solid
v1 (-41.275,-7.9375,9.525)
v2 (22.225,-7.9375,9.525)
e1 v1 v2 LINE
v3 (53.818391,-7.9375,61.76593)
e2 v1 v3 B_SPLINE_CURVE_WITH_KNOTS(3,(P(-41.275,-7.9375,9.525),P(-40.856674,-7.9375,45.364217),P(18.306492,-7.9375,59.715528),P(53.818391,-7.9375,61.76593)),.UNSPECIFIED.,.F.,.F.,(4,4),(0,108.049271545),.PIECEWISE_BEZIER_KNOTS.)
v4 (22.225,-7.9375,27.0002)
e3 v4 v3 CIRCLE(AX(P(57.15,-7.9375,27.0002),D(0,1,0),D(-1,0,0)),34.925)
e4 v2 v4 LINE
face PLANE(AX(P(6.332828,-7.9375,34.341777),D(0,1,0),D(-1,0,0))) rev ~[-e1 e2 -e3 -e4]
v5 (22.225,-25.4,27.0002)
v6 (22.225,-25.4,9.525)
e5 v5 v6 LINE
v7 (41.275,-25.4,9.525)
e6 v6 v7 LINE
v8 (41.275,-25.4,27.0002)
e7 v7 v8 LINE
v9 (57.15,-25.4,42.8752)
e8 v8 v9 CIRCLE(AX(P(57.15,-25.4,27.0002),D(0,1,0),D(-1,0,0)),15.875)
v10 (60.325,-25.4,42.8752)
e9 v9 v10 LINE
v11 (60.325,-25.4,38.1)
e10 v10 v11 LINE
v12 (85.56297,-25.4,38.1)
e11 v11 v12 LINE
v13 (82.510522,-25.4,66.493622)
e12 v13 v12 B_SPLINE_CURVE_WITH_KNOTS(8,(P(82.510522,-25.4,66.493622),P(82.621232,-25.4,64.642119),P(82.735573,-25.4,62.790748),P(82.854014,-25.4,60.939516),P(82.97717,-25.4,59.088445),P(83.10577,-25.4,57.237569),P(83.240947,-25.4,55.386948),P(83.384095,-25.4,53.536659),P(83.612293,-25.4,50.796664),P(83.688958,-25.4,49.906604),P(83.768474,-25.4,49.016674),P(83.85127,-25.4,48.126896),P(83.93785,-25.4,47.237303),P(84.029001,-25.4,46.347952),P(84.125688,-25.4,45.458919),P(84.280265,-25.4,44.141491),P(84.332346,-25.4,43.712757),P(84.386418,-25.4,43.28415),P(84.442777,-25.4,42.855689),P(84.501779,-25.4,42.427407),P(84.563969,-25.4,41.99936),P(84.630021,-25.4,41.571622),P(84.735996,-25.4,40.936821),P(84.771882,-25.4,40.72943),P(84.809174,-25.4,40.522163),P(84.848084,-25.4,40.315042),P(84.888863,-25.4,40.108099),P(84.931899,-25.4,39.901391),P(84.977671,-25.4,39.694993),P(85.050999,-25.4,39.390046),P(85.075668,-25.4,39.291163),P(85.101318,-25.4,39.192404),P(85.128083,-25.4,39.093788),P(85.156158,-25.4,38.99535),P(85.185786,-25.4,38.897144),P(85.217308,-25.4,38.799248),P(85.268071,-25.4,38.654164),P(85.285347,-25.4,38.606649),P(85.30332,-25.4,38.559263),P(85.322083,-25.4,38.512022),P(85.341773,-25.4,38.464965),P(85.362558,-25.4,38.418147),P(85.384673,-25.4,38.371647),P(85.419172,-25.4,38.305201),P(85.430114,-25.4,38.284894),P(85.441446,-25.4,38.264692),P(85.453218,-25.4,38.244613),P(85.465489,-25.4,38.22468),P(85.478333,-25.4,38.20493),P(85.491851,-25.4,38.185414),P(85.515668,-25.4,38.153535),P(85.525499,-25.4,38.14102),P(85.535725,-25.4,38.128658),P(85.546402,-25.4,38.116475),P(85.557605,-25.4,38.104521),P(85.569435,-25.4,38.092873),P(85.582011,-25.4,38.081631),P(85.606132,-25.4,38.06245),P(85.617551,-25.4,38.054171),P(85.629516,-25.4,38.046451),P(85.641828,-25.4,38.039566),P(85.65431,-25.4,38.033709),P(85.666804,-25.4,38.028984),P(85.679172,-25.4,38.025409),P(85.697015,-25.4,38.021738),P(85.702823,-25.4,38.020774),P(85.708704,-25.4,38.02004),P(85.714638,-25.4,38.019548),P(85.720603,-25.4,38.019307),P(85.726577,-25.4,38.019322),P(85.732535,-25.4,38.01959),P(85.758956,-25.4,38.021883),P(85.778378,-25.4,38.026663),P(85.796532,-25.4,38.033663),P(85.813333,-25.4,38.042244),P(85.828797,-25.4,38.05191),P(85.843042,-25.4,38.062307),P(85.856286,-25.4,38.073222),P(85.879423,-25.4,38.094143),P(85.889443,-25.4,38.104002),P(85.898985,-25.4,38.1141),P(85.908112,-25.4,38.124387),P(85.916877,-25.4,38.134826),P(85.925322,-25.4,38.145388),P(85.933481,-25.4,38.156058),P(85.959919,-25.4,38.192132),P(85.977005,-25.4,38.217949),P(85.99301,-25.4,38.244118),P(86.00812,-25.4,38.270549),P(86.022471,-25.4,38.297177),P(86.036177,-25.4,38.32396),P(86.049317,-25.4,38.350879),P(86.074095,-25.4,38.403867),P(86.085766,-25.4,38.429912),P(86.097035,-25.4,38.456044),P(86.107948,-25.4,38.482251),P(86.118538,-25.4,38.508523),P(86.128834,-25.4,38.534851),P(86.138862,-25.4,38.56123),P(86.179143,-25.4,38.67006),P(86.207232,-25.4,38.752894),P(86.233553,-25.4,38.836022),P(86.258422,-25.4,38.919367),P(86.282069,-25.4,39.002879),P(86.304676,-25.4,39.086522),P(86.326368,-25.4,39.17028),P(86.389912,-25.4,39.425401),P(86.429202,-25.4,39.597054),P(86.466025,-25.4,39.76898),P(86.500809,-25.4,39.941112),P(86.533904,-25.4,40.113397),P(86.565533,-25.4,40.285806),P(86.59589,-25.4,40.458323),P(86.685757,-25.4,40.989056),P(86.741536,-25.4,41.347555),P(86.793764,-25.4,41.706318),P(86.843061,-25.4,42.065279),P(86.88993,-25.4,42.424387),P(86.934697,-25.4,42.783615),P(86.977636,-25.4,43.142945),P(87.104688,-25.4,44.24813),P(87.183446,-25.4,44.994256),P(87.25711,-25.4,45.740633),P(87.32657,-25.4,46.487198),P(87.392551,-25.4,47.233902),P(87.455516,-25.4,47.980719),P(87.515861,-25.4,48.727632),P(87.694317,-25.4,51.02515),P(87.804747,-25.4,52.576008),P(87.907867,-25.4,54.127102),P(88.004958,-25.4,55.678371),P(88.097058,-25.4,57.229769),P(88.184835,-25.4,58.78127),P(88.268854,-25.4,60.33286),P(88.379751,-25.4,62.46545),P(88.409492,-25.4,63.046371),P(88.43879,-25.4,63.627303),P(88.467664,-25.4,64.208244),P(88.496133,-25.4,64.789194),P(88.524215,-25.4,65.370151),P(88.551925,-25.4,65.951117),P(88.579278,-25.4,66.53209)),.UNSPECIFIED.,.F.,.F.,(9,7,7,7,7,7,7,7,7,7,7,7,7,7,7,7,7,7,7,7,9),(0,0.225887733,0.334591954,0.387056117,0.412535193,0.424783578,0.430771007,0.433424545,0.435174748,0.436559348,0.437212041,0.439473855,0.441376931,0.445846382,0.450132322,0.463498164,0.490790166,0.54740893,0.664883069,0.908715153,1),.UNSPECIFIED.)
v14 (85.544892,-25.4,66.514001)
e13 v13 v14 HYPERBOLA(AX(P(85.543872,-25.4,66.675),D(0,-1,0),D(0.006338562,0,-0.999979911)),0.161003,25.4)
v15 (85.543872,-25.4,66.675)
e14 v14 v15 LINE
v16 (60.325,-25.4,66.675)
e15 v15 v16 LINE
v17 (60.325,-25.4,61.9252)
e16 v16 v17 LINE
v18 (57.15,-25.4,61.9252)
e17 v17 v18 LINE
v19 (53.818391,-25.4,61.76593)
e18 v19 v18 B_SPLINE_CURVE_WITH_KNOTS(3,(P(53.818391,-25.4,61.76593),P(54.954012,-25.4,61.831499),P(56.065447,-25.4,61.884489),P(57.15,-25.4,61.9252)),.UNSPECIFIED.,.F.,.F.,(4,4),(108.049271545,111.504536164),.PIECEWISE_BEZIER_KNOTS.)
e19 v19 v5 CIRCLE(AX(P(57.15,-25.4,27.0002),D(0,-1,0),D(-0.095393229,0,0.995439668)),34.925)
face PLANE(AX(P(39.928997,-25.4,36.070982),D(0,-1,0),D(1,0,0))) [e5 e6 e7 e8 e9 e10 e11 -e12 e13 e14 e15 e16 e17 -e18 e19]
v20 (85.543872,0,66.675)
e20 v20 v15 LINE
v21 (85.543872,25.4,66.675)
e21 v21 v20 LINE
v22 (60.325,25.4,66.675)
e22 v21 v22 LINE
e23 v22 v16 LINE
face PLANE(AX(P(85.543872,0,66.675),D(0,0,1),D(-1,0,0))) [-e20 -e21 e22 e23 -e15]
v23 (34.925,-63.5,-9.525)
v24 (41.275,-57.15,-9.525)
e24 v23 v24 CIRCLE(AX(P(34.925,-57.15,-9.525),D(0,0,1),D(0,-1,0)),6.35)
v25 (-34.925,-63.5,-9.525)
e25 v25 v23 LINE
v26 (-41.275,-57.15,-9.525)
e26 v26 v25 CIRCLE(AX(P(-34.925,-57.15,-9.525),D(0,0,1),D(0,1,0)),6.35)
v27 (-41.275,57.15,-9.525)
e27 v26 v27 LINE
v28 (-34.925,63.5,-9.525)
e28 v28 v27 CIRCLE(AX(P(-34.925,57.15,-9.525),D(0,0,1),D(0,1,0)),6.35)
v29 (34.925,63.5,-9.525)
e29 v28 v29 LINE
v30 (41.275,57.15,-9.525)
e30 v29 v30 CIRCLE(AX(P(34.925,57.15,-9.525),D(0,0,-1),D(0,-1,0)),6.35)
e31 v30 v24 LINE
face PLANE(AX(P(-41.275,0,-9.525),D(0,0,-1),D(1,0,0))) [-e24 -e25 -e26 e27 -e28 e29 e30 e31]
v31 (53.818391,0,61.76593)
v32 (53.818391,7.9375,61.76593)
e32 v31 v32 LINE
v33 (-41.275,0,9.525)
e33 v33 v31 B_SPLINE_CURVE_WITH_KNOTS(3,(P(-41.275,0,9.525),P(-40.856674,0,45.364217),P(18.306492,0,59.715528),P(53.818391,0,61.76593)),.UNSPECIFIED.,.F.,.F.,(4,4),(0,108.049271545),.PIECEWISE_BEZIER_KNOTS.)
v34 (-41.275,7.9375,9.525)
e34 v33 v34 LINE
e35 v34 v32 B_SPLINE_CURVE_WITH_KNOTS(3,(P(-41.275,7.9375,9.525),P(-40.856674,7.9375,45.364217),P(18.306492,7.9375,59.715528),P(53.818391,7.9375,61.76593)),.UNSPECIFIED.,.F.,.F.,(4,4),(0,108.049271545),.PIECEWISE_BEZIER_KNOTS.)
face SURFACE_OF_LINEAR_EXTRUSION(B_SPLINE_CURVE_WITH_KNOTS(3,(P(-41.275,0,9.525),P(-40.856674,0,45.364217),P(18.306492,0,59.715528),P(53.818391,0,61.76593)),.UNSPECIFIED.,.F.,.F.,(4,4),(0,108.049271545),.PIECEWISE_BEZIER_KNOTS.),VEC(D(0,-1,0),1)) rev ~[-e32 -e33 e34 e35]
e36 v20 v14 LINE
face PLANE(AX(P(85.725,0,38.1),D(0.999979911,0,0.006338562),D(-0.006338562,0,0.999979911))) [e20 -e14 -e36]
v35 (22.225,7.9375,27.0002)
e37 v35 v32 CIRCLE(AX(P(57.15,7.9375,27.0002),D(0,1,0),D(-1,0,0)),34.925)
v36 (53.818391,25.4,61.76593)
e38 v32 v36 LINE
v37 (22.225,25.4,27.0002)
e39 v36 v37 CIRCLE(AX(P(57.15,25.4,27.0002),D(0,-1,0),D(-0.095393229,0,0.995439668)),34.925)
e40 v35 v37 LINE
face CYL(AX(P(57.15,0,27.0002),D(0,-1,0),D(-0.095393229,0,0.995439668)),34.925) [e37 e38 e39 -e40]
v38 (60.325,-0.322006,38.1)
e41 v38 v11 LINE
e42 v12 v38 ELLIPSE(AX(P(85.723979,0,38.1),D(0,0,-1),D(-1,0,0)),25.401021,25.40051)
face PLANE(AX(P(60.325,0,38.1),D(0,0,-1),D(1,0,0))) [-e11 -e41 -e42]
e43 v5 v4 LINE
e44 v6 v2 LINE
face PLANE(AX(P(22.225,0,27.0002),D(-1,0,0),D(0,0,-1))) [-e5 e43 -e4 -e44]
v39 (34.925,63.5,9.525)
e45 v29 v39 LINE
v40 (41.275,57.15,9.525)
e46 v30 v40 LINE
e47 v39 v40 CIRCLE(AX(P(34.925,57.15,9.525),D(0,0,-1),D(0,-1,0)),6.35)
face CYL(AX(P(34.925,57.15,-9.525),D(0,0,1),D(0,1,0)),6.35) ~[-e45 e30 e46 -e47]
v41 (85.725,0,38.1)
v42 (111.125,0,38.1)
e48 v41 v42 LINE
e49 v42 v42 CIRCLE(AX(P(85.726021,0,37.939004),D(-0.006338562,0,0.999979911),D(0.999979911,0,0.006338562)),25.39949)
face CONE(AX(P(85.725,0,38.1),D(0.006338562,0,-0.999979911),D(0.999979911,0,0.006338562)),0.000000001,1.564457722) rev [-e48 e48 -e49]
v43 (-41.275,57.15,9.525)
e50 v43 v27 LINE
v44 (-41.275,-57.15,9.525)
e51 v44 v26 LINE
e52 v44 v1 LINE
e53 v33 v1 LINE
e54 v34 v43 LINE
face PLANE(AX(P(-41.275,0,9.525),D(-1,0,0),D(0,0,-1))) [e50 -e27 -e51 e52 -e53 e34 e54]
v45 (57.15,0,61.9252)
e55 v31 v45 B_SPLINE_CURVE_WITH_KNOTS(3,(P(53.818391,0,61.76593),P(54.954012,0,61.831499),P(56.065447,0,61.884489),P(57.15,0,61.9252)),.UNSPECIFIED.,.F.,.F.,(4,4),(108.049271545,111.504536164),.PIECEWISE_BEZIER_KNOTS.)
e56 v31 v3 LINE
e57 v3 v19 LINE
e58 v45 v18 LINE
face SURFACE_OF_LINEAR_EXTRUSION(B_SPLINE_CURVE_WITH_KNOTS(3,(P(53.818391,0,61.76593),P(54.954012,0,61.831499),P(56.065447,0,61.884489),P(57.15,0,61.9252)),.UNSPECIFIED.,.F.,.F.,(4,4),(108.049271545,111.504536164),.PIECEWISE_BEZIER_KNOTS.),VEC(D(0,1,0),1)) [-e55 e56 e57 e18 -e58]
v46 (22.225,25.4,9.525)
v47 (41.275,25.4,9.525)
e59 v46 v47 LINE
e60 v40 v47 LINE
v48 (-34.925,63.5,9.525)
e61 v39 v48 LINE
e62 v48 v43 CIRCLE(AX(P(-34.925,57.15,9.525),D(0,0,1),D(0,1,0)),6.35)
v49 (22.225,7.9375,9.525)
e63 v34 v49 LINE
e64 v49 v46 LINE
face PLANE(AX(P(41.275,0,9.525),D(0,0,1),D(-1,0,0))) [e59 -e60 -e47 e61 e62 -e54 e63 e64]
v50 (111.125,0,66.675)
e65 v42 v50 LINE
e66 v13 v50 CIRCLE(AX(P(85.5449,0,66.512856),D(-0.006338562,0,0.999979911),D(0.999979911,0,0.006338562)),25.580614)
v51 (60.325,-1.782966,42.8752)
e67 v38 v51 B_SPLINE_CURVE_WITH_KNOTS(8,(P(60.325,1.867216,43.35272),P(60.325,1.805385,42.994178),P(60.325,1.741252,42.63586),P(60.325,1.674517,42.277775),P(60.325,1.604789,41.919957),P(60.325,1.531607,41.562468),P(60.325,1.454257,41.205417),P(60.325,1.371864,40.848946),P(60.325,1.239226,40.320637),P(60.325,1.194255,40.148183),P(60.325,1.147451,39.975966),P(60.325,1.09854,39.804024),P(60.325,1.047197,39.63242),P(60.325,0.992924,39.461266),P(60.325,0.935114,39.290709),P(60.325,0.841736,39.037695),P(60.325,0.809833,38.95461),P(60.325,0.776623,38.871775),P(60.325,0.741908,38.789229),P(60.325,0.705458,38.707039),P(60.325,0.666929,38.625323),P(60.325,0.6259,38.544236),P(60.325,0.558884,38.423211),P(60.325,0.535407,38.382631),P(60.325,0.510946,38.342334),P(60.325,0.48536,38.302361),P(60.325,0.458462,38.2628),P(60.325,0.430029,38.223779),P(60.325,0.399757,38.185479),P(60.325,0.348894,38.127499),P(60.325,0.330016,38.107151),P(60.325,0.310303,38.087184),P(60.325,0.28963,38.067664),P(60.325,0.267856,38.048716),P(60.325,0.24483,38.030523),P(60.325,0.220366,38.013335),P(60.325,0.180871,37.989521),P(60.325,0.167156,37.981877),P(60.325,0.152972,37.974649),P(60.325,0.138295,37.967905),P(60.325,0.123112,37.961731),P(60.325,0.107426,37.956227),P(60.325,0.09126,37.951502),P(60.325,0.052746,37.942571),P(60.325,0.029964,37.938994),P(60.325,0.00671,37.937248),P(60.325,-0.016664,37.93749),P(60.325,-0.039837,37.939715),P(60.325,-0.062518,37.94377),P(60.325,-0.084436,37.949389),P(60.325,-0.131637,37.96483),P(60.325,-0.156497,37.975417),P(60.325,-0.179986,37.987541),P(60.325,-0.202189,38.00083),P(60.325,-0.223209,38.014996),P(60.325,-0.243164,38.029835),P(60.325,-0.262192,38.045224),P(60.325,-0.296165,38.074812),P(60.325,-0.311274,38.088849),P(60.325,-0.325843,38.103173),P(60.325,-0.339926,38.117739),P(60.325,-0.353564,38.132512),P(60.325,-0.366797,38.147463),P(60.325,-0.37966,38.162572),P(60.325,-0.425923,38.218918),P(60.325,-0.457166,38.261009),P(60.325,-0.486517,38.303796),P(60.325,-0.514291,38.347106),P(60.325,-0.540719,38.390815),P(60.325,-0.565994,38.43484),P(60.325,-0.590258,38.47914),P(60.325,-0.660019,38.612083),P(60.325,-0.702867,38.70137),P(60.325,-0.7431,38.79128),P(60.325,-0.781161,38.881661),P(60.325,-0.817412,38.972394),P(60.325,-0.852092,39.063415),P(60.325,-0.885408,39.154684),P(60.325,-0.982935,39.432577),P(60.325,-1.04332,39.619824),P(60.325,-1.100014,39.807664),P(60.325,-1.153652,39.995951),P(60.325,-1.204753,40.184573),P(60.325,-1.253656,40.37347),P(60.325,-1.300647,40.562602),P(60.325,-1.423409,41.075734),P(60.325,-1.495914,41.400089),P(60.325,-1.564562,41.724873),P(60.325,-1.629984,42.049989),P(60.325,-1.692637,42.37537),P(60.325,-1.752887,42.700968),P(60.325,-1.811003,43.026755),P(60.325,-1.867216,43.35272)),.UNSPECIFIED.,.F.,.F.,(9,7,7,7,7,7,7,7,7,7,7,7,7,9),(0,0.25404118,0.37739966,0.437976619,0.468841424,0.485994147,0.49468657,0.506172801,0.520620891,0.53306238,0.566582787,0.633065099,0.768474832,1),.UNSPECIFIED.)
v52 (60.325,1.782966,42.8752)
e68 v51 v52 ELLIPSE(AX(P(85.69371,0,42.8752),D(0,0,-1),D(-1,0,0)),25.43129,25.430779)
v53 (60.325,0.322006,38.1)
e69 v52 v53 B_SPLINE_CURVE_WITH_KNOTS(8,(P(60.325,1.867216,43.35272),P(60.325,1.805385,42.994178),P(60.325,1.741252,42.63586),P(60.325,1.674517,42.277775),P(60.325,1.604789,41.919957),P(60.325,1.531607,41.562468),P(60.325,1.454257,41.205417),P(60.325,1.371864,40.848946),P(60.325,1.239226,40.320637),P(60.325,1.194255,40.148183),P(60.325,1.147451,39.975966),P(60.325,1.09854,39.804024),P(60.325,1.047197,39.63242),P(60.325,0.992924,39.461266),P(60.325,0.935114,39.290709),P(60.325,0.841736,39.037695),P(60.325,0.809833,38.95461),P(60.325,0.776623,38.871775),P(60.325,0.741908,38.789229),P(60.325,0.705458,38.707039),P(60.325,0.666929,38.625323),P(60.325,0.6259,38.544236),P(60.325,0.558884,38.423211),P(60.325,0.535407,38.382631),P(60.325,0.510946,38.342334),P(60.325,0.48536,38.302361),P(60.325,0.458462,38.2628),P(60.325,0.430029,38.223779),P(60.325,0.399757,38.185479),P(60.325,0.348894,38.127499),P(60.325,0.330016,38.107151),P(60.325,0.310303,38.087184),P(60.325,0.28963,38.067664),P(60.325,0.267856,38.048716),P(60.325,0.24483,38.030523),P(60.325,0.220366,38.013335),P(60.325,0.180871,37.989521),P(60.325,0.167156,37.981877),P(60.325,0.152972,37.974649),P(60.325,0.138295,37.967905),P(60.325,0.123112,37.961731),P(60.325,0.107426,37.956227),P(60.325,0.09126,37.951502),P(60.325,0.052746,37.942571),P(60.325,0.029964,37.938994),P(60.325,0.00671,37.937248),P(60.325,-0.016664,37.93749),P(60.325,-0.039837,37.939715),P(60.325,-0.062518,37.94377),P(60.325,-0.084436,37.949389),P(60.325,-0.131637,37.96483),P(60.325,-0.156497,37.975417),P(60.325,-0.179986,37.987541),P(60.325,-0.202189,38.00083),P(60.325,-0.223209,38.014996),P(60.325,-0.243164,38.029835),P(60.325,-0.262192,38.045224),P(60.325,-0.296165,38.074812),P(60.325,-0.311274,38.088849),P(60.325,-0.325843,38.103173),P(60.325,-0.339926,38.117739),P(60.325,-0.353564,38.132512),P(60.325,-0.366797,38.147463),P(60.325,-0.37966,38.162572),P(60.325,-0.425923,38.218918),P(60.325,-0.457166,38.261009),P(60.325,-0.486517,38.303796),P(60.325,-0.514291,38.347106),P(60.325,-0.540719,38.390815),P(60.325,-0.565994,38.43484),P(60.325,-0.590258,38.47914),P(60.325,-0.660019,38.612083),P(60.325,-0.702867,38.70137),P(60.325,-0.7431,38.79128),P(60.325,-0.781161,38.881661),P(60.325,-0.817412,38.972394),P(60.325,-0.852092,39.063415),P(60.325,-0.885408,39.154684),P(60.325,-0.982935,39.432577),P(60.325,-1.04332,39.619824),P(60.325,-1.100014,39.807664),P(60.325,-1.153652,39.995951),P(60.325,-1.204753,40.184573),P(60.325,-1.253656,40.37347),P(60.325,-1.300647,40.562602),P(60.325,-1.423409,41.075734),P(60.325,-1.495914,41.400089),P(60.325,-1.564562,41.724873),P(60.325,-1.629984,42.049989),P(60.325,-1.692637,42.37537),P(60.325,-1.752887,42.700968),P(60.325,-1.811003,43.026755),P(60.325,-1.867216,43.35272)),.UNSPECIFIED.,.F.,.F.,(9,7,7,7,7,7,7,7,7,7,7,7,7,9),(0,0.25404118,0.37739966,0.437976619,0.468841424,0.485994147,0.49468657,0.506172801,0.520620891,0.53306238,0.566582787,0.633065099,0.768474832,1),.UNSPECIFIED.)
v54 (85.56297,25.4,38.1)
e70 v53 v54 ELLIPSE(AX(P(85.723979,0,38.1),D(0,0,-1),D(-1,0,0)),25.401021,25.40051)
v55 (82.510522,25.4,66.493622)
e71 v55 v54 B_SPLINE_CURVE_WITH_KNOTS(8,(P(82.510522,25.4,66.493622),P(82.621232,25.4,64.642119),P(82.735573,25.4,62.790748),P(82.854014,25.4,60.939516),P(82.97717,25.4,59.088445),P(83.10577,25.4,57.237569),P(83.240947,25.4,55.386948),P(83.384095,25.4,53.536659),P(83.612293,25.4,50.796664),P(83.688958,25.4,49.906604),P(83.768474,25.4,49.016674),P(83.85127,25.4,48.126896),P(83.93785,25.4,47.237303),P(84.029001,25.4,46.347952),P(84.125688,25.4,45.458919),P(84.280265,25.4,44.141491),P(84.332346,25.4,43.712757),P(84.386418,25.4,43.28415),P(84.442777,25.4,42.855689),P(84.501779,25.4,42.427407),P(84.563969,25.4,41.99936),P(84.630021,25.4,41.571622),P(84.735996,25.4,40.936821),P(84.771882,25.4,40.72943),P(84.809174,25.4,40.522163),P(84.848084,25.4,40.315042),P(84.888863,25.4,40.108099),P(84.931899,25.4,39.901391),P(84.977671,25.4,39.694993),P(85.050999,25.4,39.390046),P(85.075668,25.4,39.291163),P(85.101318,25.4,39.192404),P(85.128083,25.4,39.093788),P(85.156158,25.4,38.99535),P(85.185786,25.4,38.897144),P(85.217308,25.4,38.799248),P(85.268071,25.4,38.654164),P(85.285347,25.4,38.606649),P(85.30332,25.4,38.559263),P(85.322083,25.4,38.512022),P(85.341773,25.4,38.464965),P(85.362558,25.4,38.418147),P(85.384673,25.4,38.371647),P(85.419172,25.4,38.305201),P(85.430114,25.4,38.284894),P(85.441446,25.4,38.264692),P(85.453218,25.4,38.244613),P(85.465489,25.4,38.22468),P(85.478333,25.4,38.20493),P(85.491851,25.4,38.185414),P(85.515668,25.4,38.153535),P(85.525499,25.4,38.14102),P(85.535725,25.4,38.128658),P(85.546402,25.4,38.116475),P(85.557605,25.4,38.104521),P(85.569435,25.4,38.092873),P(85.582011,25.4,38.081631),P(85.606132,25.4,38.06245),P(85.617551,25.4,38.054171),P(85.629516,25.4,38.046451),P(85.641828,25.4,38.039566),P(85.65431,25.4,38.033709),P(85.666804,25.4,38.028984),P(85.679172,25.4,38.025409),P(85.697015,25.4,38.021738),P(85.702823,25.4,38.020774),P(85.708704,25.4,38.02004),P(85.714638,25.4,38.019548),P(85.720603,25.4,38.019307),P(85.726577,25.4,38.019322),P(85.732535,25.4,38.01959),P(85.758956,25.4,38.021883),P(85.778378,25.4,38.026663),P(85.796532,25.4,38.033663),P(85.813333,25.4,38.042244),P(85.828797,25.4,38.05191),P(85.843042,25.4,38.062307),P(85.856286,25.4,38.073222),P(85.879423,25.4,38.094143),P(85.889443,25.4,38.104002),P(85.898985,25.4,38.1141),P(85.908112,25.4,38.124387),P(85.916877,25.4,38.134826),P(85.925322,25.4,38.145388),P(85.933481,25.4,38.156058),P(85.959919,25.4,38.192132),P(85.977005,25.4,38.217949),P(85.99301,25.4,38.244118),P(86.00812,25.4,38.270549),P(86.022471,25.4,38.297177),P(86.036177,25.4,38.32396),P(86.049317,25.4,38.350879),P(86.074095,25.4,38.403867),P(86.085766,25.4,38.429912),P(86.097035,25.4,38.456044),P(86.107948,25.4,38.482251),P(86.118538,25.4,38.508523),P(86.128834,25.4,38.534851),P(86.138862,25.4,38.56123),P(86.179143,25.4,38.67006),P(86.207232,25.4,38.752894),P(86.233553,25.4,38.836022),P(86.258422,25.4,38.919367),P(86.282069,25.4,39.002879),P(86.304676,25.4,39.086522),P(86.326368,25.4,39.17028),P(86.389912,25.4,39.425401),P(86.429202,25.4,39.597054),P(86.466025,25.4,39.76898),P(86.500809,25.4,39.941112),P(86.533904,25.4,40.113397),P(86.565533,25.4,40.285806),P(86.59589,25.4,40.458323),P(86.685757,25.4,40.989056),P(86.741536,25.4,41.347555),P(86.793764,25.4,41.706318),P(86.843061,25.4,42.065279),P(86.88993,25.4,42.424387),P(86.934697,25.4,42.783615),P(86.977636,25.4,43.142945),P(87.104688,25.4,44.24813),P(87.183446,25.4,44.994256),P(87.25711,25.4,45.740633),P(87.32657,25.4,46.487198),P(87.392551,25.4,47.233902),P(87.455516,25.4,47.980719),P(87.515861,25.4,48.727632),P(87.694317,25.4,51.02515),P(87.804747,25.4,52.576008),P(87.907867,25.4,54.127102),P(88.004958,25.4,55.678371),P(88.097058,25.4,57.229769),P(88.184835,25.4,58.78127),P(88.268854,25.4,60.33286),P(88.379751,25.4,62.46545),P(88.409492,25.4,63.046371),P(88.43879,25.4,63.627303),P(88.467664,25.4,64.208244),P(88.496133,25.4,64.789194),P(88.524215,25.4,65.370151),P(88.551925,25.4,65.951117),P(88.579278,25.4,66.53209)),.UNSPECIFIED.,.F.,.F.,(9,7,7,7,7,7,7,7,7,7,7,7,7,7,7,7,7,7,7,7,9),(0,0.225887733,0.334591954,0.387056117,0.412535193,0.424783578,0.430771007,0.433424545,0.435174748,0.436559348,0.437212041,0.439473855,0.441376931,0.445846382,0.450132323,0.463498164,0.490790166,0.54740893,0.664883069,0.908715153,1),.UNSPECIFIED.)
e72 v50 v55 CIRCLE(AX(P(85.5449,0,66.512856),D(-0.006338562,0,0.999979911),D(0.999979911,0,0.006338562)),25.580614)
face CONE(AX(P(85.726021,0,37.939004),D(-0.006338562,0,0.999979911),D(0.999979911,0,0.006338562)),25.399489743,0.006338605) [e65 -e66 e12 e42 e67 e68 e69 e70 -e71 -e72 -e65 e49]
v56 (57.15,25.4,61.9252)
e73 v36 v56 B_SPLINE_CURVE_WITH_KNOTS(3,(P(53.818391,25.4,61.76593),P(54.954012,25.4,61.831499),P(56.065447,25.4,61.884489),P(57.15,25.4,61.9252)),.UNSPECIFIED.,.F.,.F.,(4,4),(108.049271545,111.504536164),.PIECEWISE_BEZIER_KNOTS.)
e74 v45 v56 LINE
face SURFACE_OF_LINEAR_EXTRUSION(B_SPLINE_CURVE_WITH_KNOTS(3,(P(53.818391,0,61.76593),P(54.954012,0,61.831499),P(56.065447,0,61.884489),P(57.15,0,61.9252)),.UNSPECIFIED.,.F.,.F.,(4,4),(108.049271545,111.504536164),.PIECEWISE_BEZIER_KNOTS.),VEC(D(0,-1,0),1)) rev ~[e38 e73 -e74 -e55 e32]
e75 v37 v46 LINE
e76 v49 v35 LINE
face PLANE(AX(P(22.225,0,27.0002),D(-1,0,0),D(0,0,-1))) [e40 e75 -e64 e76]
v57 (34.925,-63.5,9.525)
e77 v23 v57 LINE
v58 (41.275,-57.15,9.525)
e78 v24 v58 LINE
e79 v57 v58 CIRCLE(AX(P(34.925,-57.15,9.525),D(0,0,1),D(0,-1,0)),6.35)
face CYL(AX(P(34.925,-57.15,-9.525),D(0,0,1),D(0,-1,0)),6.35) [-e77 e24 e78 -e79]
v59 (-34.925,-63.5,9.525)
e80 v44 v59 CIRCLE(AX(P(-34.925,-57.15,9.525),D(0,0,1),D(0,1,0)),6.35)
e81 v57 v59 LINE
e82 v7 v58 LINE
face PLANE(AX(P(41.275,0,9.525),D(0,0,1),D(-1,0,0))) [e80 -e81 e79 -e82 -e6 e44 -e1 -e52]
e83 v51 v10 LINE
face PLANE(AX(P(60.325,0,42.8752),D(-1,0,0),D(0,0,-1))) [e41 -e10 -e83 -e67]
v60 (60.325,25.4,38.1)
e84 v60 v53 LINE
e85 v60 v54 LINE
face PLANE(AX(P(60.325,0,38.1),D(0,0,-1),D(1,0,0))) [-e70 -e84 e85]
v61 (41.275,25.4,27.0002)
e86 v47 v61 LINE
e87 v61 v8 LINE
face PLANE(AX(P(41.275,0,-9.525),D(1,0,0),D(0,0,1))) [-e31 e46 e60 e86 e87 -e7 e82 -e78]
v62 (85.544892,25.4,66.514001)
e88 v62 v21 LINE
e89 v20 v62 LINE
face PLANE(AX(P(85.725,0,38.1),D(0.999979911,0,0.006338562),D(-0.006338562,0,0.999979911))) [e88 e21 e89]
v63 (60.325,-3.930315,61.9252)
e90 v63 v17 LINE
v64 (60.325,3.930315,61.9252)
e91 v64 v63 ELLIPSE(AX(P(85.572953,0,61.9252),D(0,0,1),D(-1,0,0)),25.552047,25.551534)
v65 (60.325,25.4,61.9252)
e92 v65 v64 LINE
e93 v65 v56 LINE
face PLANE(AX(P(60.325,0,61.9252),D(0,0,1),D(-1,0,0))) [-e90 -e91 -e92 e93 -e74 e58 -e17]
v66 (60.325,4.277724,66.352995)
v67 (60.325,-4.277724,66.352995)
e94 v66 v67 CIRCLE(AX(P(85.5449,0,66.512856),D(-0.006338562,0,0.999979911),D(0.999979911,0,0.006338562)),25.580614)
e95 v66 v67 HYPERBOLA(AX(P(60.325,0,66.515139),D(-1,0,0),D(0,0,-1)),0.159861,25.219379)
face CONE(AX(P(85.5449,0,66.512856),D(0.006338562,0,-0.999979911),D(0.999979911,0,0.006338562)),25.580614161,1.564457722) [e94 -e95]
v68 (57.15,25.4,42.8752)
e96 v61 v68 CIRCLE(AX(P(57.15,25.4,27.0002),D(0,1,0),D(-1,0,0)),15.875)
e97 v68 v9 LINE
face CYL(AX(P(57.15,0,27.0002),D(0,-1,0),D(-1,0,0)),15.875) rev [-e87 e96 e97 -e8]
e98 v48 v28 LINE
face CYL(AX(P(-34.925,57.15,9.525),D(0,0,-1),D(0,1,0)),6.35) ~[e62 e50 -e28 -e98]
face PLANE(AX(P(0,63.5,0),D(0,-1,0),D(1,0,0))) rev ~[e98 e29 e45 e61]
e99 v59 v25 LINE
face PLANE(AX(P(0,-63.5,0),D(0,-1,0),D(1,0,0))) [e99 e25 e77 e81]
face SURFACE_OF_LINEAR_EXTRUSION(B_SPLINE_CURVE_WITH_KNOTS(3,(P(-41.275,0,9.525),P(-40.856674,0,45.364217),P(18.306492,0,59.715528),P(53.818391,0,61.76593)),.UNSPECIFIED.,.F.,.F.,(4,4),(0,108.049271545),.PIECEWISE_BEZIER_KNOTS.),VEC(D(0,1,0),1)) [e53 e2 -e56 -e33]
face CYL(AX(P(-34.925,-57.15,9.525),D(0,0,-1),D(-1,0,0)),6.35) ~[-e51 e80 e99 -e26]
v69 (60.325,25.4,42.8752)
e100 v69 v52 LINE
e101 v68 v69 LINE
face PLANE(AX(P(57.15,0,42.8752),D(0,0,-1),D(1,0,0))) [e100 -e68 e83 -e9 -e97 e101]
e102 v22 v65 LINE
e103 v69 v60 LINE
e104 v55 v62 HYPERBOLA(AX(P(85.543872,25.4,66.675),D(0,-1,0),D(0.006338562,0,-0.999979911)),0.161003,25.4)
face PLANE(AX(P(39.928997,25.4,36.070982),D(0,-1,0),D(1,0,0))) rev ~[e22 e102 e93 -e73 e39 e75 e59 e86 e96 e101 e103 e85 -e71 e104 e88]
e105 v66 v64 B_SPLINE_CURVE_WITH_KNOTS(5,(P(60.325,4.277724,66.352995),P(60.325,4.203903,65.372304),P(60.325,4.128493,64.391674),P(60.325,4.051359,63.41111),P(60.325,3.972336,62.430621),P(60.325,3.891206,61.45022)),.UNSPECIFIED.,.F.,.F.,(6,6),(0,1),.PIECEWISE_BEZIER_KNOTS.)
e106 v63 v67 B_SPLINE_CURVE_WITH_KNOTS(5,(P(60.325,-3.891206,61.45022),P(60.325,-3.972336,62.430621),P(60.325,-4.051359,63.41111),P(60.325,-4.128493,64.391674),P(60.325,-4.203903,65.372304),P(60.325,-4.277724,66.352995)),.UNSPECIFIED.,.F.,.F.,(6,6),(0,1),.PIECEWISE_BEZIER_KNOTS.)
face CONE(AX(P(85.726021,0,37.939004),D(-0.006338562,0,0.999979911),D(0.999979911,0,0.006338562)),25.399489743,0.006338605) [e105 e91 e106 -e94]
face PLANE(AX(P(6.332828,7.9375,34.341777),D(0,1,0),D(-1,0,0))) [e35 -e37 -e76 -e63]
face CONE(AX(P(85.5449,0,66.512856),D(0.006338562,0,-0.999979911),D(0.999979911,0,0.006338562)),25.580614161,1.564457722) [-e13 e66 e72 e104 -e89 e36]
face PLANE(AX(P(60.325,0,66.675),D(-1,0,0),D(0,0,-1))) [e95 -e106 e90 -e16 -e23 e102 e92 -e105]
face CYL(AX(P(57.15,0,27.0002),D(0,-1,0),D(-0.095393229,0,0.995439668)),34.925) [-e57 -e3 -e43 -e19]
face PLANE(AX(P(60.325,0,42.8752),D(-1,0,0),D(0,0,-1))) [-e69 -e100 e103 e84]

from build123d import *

# Parameters (mm, degrees)
F1_DEPTH = 63.5
F2_DEPTH = 25.4
F3_DEPTH = 7.9375
F5_R     = 6.35


with BuildPart() as f1:
    # F0 (on Front) → F1 (new body, symmetric)
    with BuildSketch(Plane.XZ):
        Polygon((-41.275, -9.525), (41.275, -9.525), (41.275, 9.525), (22.225, 9.525), (-41.275, 9.525), align=None)
    extrude(amount=F1_DEPTH, both=True)

    # F0 (on Front) → F2 (join, symmetric)
    with BuildSketch(Plane.XZ):
        with BuildLine():
            Line((22.225, 9.525), (41.275, 9.525))
            Line((41.275, 9.525), (41.275, 27.0002))
            ThreePointArc((41.275, 27.0002), (45.9246798487, 38.2255201513), (57.15, 42.8752))
            Line((57.15, 42.8752), (60.325, 42.8752))
            Line((60.325, 42.8752), (60.325, 61.9252))
            Line((60.325, 61.9252), (57.15, 61.9252))
            add(Edge.make_bspline(
                [(53.8183914721, 61.765930391), (54.9540123477, 61.8314994044), (56.0654467047, 61.8844891287), (57.15, 61.9252)],
                knots=[108.0492715446, 108.0492715446, 108.0492715446, 108.0492715446, 111.5045361635, 111.5045361635, 111.5045361635, 111.5045361635], degree=3))
            ThreePointArc((53.8183914721, 61.765930391), (31.3032201925, 50.4884864122), (22.225, 27.0002))
            Line((22.225, 27.0002), (22.225, 9.525))
        make_face()
        Polygon((60.325, 61.9252), (60.325, 42.8752), (60.325, 38.1), (85.725, 38.1), (85.5438719422, 66.675), (60.325, 66.675), align=None)
    extrude(amount=F2_DEPTH, both=True)

    # F0 (on Front) → F3 (join, symmetric)
    with BuildSketch(Plane.XZ):
        with BuildLine():
            add(Edge.make_bspline(
                [(-41.275, 9.525), (-40.856674268, 45.3642172034), (18.3064924153, 59.7155276242), (53.8183914721, 61.765930391)],
                knots=[0, 0, 0, 0, 108.0492715446, 108.0492715446, 108.0492715446, 108.0492715446], degree=3))
            Line((-41.275, 9.525), (22.225, 9.525))
            Line((22.225, 9.525), (22.225, 27.0002))
            ThreePointArc((22.225, 27.0002), (31.3032201925, 50.4884864122), (53.8183914721, 61.765930391))
        make_face()
    extrude(amount=F3_DEPTH, both=True)

    # F0 (on Front) → F4 (revolve)
    with BuildSketch(Plane.XZ):
        Polygon((85.5438719422, 66.675), (85.725, 38.1), (111.125, 38.1), (111.125, 66.675), align=None)
    revolve(axis=Axis((85.6344359711, 0, 52.3875), (-0.0063385623, 0, 0.9999799111)))

    # F5
    f5_edges = [f1.edges().sort_by_distance(p)[0] for p in [
        (41.275, -63.5, 0),
        (-41.275, -63.5, 0),
        (-41.275, 63.5, 0),
        (41.275, 63.5, 0),
    ]]
    fillet(f5_edges, radius=F5_R)


solid = f1.part
